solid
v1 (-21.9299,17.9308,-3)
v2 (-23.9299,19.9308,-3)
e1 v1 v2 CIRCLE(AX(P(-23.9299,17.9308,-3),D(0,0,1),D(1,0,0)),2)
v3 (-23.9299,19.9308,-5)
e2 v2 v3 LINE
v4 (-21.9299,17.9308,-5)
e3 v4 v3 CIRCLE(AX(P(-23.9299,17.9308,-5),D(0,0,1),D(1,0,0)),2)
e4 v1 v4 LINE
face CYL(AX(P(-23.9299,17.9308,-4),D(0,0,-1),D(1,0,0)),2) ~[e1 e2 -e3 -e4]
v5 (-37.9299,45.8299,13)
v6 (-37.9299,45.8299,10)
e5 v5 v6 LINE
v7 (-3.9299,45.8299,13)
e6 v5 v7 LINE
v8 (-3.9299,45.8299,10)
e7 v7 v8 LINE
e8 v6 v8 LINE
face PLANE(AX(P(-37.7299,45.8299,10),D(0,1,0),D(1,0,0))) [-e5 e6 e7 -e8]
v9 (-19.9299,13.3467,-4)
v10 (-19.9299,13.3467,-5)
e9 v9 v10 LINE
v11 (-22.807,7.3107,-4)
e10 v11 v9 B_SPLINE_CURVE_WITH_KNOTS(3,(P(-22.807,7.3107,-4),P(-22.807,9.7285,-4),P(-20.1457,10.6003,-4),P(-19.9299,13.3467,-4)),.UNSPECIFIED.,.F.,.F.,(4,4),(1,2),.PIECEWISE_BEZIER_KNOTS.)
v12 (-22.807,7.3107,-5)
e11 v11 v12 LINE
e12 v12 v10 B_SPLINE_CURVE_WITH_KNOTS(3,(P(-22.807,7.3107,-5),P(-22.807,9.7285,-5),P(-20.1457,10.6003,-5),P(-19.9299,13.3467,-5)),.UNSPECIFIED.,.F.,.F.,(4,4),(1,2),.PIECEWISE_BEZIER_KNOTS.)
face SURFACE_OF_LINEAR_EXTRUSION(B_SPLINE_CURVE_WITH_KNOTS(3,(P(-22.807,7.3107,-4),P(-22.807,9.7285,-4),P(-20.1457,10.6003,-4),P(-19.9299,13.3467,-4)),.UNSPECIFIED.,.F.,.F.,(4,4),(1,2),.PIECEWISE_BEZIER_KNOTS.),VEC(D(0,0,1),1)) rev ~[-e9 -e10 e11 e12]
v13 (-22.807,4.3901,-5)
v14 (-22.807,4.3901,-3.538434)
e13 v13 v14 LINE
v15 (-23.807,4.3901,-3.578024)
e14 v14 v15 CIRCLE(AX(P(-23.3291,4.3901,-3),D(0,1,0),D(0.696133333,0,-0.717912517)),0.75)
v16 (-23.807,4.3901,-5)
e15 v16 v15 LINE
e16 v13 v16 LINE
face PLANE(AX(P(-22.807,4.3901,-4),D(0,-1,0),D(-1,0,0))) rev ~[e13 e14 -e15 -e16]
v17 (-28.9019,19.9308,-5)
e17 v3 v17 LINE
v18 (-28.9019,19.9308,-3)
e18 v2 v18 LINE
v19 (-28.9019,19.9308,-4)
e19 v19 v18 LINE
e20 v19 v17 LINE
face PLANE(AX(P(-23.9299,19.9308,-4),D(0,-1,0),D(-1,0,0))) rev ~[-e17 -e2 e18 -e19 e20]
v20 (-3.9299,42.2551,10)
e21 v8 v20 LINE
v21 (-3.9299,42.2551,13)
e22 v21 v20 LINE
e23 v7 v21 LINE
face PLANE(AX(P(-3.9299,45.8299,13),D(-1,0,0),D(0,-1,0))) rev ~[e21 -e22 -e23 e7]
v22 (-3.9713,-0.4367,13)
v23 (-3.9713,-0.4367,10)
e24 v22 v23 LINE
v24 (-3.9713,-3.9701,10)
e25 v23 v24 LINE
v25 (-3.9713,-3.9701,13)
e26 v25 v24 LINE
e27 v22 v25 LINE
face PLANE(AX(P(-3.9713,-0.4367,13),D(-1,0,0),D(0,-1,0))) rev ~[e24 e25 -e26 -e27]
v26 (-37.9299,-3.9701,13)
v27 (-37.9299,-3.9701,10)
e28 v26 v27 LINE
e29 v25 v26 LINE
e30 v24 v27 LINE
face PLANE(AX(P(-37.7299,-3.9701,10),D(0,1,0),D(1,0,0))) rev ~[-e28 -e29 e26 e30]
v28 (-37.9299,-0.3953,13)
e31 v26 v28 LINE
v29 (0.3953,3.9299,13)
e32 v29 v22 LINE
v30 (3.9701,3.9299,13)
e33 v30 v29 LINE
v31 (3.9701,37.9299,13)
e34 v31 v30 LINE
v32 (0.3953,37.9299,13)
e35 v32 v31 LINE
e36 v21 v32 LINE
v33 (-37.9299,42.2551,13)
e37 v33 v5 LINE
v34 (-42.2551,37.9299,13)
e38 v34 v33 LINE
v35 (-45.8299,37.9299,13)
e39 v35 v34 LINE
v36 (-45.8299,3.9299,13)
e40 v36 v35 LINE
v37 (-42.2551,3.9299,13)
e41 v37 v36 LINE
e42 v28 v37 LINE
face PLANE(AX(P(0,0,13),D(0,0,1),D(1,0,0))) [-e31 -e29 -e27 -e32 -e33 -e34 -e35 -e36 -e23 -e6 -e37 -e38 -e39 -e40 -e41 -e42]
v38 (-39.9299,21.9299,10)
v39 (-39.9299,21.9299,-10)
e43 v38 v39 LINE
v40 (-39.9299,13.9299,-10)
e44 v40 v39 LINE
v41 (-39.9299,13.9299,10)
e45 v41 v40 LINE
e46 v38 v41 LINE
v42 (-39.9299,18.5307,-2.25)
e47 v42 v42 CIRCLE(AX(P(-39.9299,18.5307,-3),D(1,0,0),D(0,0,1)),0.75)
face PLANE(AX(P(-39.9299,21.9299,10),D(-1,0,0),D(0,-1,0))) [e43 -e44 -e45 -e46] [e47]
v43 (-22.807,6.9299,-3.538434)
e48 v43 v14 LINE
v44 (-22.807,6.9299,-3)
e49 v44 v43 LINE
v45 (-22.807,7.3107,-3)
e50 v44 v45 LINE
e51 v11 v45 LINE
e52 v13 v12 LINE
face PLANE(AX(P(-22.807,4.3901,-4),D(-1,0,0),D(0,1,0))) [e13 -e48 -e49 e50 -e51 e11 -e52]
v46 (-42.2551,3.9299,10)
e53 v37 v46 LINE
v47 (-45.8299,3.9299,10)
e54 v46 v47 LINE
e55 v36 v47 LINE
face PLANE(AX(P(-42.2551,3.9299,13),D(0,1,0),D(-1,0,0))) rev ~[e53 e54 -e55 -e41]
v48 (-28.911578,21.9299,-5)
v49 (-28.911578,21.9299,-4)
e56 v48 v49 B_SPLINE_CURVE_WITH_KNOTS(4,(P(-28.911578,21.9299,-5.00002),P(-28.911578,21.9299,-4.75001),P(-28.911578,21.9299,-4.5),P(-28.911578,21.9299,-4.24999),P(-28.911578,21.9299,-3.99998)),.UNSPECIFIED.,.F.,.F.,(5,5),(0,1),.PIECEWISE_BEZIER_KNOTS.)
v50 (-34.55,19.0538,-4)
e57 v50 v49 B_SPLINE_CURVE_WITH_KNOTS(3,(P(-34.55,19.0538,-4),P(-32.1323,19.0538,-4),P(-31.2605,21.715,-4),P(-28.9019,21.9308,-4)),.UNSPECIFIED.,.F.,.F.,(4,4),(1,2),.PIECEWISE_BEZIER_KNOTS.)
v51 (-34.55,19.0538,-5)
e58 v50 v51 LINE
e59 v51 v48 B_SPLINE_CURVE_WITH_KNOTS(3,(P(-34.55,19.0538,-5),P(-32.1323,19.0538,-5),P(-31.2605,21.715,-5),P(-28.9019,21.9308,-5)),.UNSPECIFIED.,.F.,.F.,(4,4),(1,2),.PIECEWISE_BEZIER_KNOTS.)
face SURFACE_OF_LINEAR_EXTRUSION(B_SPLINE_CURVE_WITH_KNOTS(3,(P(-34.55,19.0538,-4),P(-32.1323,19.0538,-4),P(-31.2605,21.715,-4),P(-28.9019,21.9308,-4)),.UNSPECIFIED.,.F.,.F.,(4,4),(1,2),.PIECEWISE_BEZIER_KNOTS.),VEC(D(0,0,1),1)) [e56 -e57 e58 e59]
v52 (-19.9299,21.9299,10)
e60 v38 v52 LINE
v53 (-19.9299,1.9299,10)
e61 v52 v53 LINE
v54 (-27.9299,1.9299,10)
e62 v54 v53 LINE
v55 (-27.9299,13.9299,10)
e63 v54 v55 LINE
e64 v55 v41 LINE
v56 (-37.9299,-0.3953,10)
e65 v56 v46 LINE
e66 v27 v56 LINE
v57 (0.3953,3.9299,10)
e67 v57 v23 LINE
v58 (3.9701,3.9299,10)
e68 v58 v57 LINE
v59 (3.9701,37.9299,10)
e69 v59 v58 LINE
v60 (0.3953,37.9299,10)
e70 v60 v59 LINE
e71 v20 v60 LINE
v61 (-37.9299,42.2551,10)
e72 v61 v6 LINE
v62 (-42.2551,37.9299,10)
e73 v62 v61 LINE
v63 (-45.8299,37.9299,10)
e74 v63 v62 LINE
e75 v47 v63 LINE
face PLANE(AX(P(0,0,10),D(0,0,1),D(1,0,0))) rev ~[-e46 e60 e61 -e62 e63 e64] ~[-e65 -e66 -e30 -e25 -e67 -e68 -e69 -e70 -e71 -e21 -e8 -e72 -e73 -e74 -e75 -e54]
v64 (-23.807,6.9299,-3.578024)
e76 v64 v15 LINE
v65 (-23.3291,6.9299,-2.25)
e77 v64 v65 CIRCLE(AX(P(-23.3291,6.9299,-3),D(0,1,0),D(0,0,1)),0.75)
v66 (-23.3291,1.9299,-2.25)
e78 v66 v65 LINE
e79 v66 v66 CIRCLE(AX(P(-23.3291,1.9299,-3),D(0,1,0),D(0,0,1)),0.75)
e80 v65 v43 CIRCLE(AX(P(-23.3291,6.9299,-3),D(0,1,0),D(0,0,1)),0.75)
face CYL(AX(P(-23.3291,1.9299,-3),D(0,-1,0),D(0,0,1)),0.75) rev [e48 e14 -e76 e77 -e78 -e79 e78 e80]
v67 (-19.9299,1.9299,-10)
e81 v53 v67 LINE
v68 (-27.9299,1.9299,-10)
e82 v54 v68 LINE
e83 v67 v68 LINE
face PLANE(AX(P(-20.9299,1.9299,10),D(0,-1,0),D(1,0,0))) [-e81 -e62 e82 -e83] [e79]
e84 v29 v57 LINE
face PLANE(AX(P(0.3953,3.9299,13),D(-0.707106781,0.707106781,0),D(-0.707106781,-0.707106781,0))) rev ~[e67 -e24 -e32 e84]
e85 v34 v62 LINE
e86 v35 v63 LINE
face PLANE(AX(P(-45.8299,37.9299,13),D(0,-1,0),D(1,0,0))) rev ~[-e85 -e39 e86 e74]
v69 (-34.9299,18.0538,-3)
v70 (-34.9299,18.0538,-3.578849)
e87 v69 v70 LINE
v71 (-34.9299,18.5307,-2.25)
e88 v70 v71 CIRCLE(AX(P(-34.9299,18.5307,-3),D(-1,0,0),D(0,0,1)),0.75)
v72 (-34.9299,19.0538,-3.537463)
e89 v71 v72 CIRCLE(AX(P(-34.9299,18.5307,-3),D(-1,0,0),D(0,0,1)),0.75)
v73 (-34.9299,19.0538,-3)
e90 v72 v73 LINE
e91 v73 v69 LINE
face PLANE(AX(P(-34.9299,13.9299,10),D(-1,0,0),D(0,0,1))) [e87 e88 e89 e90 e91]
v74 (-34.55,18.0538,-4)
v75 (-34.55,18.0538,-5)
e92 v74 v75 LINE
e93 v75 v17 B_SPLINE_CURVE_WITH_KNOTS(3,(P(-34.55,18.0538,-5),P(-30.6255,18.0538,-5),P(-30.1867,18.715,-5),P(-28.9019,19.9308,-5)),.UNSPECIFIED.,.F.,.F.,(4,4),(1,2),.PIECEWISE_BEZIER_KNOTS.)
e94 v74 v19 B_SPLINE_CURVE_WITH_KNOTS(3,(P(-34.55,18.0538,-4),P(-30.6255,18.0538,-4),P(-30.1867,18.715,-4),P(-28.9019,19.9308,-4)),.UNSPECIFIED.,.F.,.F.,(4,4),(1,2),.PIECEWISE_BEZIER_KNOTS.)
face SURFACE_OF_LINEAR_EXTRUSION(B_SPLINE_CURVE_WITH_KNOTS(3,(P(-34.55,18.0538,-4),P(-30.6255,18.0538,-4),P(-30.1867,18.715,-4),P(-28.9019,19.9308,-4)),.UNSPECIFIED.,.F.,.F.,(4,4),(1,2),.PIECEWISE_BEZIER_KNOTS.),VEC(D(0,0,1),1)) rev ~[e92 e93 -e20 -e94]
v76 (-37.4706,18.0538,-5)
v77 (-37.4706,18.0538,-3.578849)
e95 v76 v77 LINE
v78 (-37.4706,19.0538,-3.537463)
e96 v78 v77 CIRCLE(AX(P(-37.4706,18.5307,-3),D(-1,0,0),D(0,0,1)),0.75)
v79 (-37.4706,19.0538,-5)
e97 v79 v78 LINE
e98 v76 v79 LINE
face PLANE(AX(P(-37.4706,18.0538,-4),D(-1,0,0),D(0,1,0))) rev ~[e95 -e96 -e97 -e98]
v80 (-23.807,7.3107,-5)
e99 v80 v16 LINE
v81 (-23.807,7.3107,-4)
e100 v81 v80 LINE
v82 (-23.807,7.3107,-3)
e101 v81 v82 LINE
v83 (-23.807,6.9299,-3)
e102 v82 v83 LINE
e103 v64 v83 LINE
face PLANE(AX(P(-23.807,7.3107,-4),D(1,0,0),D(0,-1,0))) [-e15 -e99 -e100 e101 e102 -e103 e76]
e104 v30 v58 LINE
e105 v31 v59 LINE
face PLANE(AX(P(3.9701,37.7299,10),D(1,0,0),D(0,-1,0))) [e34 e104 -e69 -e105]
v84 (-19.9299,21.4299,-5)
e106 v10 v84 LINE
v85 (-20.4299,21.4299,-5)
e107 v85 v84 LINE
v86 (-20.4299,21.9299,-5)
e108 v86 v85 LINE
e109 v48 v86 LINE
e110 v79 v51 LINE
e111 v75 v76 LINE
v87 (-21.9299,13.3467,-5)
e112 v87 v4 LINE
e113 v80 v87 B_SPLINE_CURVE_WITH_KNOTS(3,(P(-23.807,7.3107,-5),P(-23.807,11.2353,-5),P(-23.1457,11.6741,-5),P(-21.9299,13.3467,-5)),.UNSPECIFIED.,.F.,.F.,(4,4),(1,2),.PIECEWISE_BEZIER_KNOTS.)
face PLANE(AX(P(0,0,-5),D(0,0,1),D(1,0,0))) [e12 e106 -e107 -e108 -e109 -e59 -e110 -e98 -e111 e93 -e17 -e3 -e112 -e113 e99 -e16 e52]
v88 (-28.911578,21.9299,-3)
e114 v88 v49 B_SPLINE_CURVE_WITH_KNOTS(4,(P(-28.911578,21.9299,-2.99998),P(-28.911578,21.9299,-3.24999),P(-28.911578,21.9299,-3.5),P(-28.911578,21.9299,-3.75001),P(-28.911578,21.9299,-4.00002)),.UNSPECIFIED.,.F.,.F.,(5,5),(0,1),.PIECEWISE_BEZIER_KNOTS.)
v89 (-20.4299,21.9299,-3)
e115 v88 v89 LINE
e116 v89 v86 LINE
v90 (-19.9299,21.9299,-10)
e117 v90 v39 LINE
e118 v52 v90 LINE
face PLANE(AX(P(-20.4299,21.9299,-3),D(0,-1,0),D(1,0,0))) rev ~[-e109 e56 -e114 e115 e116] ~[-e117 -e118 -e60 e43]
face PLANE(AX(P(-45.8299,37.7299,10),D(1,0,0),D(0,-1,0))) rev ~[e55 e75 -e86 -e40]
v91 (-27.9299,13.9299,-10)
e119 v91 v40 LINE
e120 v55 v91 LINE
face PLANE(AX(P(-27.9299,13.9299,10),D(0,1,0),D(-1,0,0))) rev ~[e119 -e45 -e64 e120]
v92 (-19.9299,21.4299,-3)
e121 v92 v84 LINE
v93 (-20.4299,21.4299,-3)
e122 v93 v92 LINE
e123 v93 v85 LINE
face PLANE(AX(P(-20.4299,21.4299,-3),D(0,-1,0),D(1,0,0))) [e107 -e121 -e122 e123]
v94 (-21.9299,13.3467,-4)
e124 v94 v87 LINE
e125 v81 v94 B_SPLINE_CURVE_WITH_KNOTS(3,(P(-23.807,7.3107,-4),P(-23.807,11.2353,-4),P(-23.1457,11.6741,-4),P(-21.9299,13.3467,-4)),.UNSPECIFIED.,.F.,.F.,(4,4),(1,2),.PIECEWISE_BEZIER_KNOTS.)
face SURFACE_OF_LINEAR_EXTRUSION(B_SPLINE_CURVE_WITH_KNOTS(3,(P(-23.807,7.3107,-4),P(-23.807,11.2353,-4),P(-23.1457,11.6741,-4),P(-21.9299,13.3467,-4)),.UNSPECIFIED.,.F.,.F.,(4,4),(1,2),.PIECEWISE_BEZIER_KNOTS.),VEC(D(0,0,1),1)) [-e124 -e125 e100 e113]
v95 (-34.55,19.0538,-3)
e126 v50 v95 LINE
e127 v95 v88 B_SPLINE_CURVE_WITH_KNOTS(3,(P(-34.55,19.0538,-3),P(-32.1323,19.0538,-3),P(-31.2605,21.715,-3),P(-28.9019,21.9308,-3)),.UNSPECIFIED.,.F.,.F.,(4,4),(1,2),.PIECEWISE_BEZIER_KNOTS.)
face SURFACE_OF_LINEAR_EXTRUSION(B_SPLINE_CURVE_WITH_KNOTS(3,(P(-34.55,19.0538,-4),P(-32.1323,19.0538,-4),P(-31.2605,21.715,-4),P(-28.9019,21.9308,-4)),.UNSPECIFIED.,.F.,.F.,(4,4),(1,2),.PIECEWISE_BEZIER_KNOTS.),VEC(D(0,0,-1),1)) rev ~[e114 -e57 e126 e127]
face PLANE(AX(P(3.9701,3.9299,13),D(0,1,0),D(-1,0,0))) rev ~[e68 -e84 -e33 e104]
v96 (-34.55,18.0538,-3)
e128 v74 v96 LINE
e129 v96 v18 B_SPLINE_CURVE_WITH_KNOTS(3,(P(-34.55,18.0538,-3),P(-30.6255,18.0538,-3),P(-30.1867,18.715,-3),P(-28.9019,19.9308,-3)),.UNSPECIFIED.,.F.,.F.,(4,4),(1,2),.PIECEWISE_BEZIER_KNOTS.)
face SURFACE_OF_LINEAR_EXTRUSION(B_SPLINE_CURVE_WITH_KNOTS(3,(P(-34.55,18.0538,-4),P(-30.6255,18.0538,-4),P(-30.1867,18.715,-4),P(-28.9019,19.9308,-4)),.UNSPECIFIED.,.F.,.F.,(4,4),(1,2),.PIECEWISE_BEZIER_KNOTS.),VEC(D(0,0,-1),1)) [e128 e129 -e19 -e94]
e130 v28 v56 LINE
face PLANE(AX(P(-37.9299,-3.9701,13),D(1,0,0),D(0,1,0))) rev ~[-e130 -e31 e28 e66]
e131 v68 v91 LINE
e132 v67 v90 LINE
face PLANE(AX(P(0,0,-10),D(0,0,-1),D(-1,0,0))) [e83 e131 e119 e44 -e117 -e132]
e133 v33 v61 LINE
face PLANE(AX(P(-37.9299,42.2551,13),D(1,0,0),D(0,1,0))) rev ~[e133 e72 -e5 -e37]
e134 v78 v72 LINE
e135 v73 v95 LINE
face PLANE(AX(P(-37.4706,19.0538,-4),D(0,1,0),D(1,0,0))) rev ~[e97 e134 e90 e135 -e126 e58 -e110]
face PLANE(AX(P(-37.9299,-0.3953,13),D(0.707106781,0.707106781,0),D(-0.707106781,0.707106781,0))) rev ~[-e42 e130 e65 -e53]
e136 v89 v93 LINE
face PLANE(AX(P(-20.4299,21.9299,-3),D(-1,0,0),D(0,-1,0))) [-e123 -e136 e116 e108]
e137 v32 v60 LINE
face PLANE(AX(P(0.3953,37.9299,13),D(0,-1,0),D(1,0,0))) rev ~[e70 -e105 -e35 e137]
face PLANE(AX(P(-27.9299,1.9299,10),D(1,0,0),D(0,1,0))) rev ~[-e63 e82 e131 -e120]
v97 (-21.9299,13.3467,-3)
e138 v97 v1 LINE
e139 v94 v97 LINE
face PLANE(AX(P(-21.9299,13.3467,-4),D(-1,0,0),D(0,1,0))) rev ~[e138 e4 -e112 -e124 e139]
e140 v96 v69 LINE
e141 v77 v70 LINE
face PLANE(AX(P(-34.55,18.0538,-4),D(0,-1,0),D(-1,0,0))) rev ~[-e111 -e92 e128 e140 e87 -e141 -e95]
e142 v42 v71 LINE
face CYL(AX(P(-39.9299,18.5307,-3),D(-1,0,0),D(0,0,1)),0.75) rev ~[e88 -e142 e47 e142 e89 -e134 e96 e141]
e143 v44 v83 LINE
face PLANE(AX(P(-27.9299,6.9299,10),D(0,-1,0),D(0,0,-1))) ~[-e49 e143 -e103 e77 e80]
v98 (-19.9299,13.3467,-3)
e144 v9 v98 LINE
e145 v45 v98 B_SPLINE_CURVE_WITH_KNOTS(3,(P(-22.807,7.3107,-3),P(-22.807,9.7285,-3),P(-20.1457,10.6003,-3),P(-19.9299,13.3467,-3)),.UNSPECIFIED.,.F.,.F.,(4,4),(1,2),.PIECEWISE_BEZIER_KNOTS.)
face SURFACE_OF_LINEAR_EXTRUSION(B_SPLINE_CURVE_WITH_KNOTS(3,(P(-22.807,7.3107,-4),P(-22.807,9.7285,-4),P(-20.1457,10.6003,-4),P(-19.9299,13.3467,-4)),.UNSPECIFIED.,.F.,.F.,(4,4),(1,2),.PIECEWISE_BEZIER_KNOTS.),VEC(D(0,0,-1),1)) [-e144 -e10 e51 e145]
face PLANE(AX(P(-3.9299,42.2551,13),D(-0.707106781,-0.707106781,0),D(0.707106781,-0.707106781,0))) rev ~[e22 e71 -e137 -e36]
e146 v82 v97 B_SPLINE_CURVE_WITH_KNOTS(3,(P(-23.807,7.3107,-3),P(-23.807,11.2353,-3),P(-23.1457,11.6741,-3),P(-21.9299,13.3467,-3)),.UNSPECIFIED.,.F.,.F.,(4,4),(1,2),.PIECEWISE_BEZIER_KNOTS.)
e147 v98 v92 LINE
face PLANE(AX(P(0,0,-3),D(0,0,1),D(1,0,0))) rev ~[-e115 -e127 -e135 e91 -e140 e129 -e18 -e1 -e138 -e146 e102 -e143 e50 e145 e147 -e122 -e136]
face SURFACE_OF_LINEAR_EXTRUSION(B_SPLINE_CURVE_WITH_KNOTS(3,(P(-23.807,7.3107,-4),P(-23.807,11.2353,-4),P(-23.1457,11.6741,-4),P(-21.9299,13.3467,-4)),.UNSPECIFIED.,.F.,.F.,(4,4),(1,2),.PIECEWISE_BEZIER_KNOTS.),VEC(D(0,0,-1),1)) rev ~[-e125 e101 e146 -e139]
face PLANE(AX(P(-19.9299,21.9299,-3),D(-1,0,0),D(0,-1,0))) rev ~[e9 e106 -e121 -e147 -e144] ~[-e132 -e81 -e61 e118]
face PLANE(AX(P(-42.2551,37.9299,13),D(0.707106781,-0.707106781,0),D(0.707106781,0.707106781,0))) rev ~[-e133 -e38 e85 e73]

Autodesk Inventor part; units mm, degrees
ref_plane "YZ Plane" through (0, 0, 0) normal (1, 0, 0) x (0, 1, 0)
ref_plane "XZ Plane" through (0, 0, 0) normal (0, 1, 0) x (-1, 0, 0)
ref_plane "Work Plane1" through (0, 0, 10) normal (0, 0, 1) x (1, 0, 0)
sketch "Sketch1" plane through (0, 0, 10) normal (0, 0, 1) x (1, 0, 0)
  line L0 (-4.0299, -0.3538) -> (-2.2322, 1.4439) construction
  arc A0 (-1.4439, 2.2322) -> (-2.2322, 1.4439) centre (-0.9299, 0.9299) ccw construction
  line L1 (-1.4439, 2.2322) -> (0.3538, 4.0299) construction
  line L2 (-37.8299, 42.8299) -> (-37.8299, 37.8299) construction
  line L3 (-37.8299, 37.8299) -> (-42.9208, 37.8299) construction
  line L4 (-37.8299, 42.2137) -> (-37.8299, 45.8299) construction
  line L5 (-37.8299, 45.8299) -> (-4.0299, 45.8299) construction
  line L6 (-4.0299, 45.8299) -> (-4.0299, 42.2137) construction
  line L7 (-4.0299, 4.0299) -> (0.3538, 4.0299) projected
  circle A1 centre (-20.9299, 20.9299) radius 17.5 projected
  line L8 (-20.9299, 58.9723) -> (17.1124, 20.9299) construction
  line L9 (17.1124, 20.9299) -> (-20.9299, -17.1124) construction
  line L10 (-20.9299, -17.1124) -> (-58.9723, 20.9299) construction
  line L11 (-58.9723, 20.9299) -> (-20.9299, 58.9723) construction
  line L12 (-20.9299, 58.9723) -> (-20.9299, -17.1124) construction
  line L13 (17.1124, 20.9299) -> (-58.9723, 20.9299) construction
  line L14 (-20.9299, 58.9723) -> (32.8701, 58.9723) construction
  line L15 (-43.4299, 43.4299) -> (1.5701, 43.4299) construction
  line L16 (1.5701, 43.4299) -> (1.5701, -1.5701) construction
  line L17 (1.5701, -1.5701) -> (-43.4299, -1.5701) construction
  line L18 (-43.4299, -1.5701) -> (-43.4299, 43.4299) construction
  line L19 (-43.4299, 43.4299) -> (1.5701, -1.5701) construction
  line L20 (1.5701, 43.4299) -> (-43.4299, -1.5701) construction
  line L21 (-43.4299, 5.3876) -> (-43.4299, 36.4723)
  line L22 (-43.4299, 36.4723) -> (-36.4723, 43.4299)
  line L23 (-36.4723, 43.4299) -> (-5.3876, 43.4299)
  line L24 (-5.3876, 43.4299) -> (1.5701, 36.4723)
  line L25 (1.5701, 36.4723) -> (1.5701, 5.3876)
  line L26 (1.5701, 5.3876) -> (-5.3876, -1.5701)
  line L27 (-5.3876, -1.5701) -> (-36.4723, -1.5701)
  line L28 (-36.4723, -1.5701) -> (-43.4299, 5.3876)
  line L29 (-4.0299, 42.2137) -> (-37.8299, 42.2137) projected
  line L30 (-4.0299, -0.3538) -> (-4.0299, 4.0299) projected
  circle A2 centre (-20.9299, 20.9299) radius 1.5
  line L31 (-10.9299, 10.9299) -> (-30.9299, 10.9299) construction
  line L32 (-30.9299, 10.9299) -> (-30.9299, 30.9299) construction
  line L33 (-30.9299, 30.9299) -> (-10.9299, 30.9299) construction
  line L34 (-10.9299, 30.9299) -> (-10.9299, 10.9299) construction
  line L35 (-10.9299, 10.9299) -> (-30.9299, 30.9299) construction
  line L36 (-30.9299, 10.9299) -> (-10.9299, 30.9299) construction
  circle A3 centre (-30.9299, 30.9299) radius 1.4
  circle A4 centre (-30.9299, 10.9299) radius 1.4
  circle A5 centre (-10.9299, 10.9299) radius 1.4
  line L37 (-45.8299, 37.8299) -> (-42.0723, 37.8299) construction
  line L38 (-42.1723, 37.7299) -> (-45.8299, 37.7299)
  line L39 (-45.8299, 37.7299) -> (-45.8299, 4.1299)
  line L40 (-45.8299, 4.1299) -> (-42.1723, 4.1299)
  line L41 (-42.1723, 4.1299) -> (-42.1723, 37.7299)
  line L42 (-45.8299, 4.0299) -> (-42.0723, 4.0299) construction
  line L43 (-45.8299, 37.8299) -> (-42.0723, 37.8299) projected
  line L44 (-37.7299, 45.8299) -> (-4.1299, 45.8299)
  line L45 (-4.1299, 45.8299) -> (-4.1299, 42.1723)
  line L46 (-4.1299, 42.1723) -> (-37.7299, 42.1723)
  line L47 (-37.7299, 42.1723) -> (-37.7299, 45.8299)
  line L48 (0.4701, 37.8299) -> (0.4701, 4.0299) construction
  line L49 (0.4701, 4.0299) -> (3.9701, 4.0299) construction
  line L50 (3.9701, 37.8299) -> (3.9701, 4.0299) construction
  line L51 (0.4701, 37.8299) -> (3.9701, 37.8299) construction
  line L52 (-45.8299, -3.9701) -> (-4.0299, -3.9701) construction
  line L53 (0.3124, 37.7299) -> (3.9701, 37.7299)
  line L54 (3.9701, 37.7299) -> (3.9701, 4.1299)
  line L55 (3.9701, 4.1299) -> (0.3124, 4.1299)
  line L56 (0.3124, 4.1299) -> (0.3124, 37.7299)
  line L57 (-4.1713, -0.3538) -> (-37.7299, -0.3538)
  line L58 (-37.7299, -0.3538) -> (-37.7299, -3.9701)
  line L59 (-37.7299, -3.9701) -> (-4.1713, -3.9701)
  line L60 (-4.1713, -3.9701) -> (-4.1713, -0.3538)
  point P0 (-37.8299, 4.0299)
  dimension "d18" = 53.8
  dimension "d19" = 45
  dimension "d20" = 53.8
  dimension "d21" = 45
  dimension "d22" = 45
  dimension "d30" = 20
  dimension "d31" = 20
  dimension "d32" = 2.8
  dimension "d33" = 2.8
  dimension "d34" = 2.8
  dimension "d35" = 3
  dimension "d36" = 0.1
  dimension "d37" = 0.1
  dimension "d38" = 0.1
  dimension "d39" = 0.1
extrude "Extrusion1" add sketch "Sketch1" along normal blind 3 contours L30 L26 L57 L28 L41 L22 L46 L24 L56 L7 | L7 L26 L30 | L56 L24 L25 L26 | L26 L25 L24 L53 L54 L55 | L60 L59 L58 L57 L28 L27 L26 | L26 L27 L28 L57 | L46 L22 L29 L24 | L24 L29 L45 | L40 L39 L38 L22 L21 L28 | L28 L21 L22 L41 | L29 L22 L23 L24 | L24 L23 L22 L29 L47 L44 L45 | L47 L29 L22 | A1 | A2 | A3 | A4 | A5
sketch "Skizze4" plane through (0, 0, 13) normal (0, 0, 1) x (1, 0, 0)
  line L0 (-37.7299, 42.1723) -> (-42.1723, 37.7299) projected
  line L1 (-42.1723, 37.7299) -> (-45.8299, 37.7299) projected
  line L2 (-45.8299, 37.7299) -> (-45.8299, 4.1299) construction
  line L3 (-45.8299, 4.1299) -> (-42.1723, 4.1299) projected
  line L4 (-42.1723, 4.1299) -> (-37.6885, -0.3538) projected
  line L5 (-37.6885, -0.3538) -> (-37.7299, -0.3538) projected
  line L6 (-37.7299, -0.3538) -> (-37.7299, -3.9701) projected
  line L7 (-37.7299, -3.9701) -> (-4.1713, -3.9701) construction
  line L8 (-4.1713, -3.9701) -> (-4.1713, -0.3538) projected
  line L9 (-4.1713, -0.3538) -> (0.3124, 4.1299) projected
  line L10 (0.3124, 4.1299) -> (3.9701, 4.1299) projected
  line L11 (3.9701, 4.1299) -> (3.9701, 37.7299) construction
  line L12 (3.9701, 37.7299) -> (0.3124, 37.7299) projected
  line L13 (0.3124, 37.7299) -> (-4.1299, 42.1723) projected
  line L14 (-4.1299, 42.1723) -> (-4.1299, 45.8299) projected
  line L15 (-4.1299, 45.8299) -> (-37.7299, 45.8299) construction
  line L16 (-37.7299, 45.8299) -> (-37.7299, 42.1723) projected
  line L17 (-37.9299, 46.0299) -> (-3.9299, 46.0299) construction
  line L18 (-3.9299, 46.0299) -> (-3.9299, 42.2551)
  line L19 (-3.9299, 42.2551) -> (0.3953, 37.9299)
  line L20 (0.3953, 37.9299) -> (4.1701, 37.9299)
  line L21 (4.1701, 37.9299) -> (4.1701, 3.9299) construction
  line L22 (4.1701, 3.9299) -> (0.3953, 3.9299)
  line L23 (0.3953, 3.9299) -> (-3.9713, -0.4367)
  line L24 (-3.9713, -0.4367) -> (-3.9713, -4.1701)
  line L25 (-3.9713, -4.1701) -> (-37.9299, -4.1701) construction
  line L26 (-37.9299, -4.1701) -> (-37.9299, -0.3953)
  line L27 (-37.9299, -0.3953) -> (-42.2551, 3.9299)
  line L28 (-42.2551, 3.9299) -> (-46.0299, 3.9299)
  line L29 (-46.0299, 3.9299) -> (-46.0299, 37.9299) construction
  line L30 (-46.0299, 37.9299) -> (-42.2551, 37.9299)
  line L31 (-42.2551, 37.9299) -> (-37.9299, 42.2551)
  line L32 (-37.9299, 42.2551) -> (-37.9299, 46.0299)
  line L33 (-45.8299, 37.7299) -> (-45.8299, 37.9299)
  line L34 (-4.1299, 45.8299) -> (-37.7299, 45.8299) projected
  line L35 (-37.7299, 45.8299) -> (-37.9299, 45.8299)
  line L36 (-4.1299, 45.8299) -> (-3.9299, 45.8299)
  line L37 (3.9701, 37.7299) -> (3.9701, 37.9299)
  line L38 (3.9701, 4.1299) -> (3.9701, 37.7299) projected
  line L39 (3.9701, 4.1299) -> (3.9701, 3.9299)
  line L40 (-4.1713, -3.9701) -> (-3.9713, -3.9701)
  line L41 (-37.7299, -3.9701) -> (-37.9299, -3.9701)
  line L42 (-45.8299, 4.1299) -> (-45.8299, 3.9299)
  point P0 (0, 0)
  dimension "d40" = 0.2
extrude "IM_offset" add sketch "Skizze4" against normal up to surface (3 mm away)
ref_plane "Arbeitsebene5" through (-20.9299, 3.9299, 10) normal (1, 0, 0) x (0, 0, -1)
ref_plane "Arbeitsebene6" through (-37.9299, 20.9299, 10) normal (0, 1, 0) x (1, 0, 0)
sketch "Skizze36" plane through (0, 0, 10) normal (0, 0, -1) x (-1, 0, 0)
  line L0 (-13.9301, 20.9299) -> (55.7899, 20.9299) projected
  line L1 (20.9299, -13.9301) -> (20.9299, 55.7899) projected
  line L2 (19.9299, 21.9299) -> (39.9299, 21.9299)
  line L3 (39.9299, 21.9299) -> (39.9299, 1.9299)
  line L4 (39.9299, 1.9299) -> (19.9299, 1.9299)
  line L5 (19.9299, 1.9299) -> (19.9299, 21.9299)
  line L6 (39.9299, 1.9299) -> (27.9299, 1.9299)
  line L7 (27.9299, 1.9299) -> (27.9299, 13.9299)
  line L8 (27.9299, 13.9299) -> (39.9299, 13.9299)
  line L9 (39.9299, 13.9299) -> (39.9299, 1.9299)
  point P0 (0, 0)
  point P1 (39.9299, 13.9299)
  point P2 (39.9299, 20.9299)
  point P3 (20.9299, 20.9299)
  point P4 (20.9299, 1.9299)
  point P5 (27.9299, 1.9299)
  dimension "d197" = 20
  dimension "d198" = 20
  dimension "d199" = 1
  dimension "d200" = 1
  dimension "d201" = 12
  dimension "d202" = 12
extrude "Extrusion32" add sketch "Skizze36" along normal blind 20 contours L5 L2 L1 L0 | L0 L1 L4 L5 | L1 L2 L3 L0 | L0 L3 L8 L7 L4 L1
ref_plane "Arbeitsebene10" through (0, 0, -4) normal (0, 0, 1) x (1, 0, 0)
sketch "Skizze37" plane through (0, 0, -4) normal (0, 0, 1) x (1, 0, 0)
  line L0 (-19.9299, 1.3901) -> (-19.9299, 21.9308)
  line L1 (-19.9299, 21.9308) -> (-19.9299, 13.3467)
  line L2 (-19.9299, 13.3467) -> (-21.9299, 13.3467)
  line L3 (-21.9299, 13.3467) -> (-21.9299, 17.9308)
  line L4 (-21.9299, 21.9308) -> (-19.9299, 21.9308)
  line L5 (-40.9299, 1.3901) -> (-19.9299, 1.3901)
  line L6 (-22.807, 4.3901) -> (-22.807, 7.3107)
  line L7 (-23.807, 7.3107) -> (-23.807, 4.3901)
  line L8 (-22.807, 7.3107) -> (-22.807, 9.7285) construction
  line L9 (-22.807, 9.7285) -> (-20.1457, 10.6003) construction
  line L10 (-20.1457, 10.6003) -> (-19.9299, 13.3467) construction
  spline S0 degree 3 poles (-22.807, 7.3107) (-22.807, 9.7285) (-20.1457, 10.6003) (-19.9299, 13.3467) knots 1 1 1 1 2 2 2 2
  spline S1 degree 3 poles (-23.807, 7.3107) (-23.807, 11.2353) (-23.1457, 11.6741) (-21.9299, 13.3467) knots 1 1 1 1 2 2 2 2
  line L11 (-23.807, 7.3107) -> (-23.807, 11.2353) construction
  line L12 (-23.807, 11.2353) -> (-23.1457, 11.6741) construction
  line L13 (-23.1457, 11.6741) -> (-21.9299, 13.3467) construction
  line L14 (-21.9299, 21.9308) -> (-21.9299, 19.9308)
  line L15 (-23.9299, 19.9308) -> (-28.9019, 19.9308)
  line L16 (-28.9019, 19.9308) -> (-28.9019, 21.9308)
  line L17 (-28.9019, 21.9308) -> (-21.9299, 21.9308)
  line L18 (-19.9299, 21.9308) -> (-29.9299, 11.9308) construction
  line L19 (-28.9019, 21.9308) -> (-28.9019, 19.9308)
  line L20 (-31.2605, 21.715) -> (-28.9019, 21.9308) construction
  spline S2 degree 3 poles (-34.55, 19.0538) (-32.1323, 19.0538) (-31.2605, 21.715) (-28.9019, 21.9308) knots 1 1 1 1 2 2 2 2
  line L21 (-34.55, 19.0538) -> (-32.1323, 19.0538) construction
  line L22 (-32.1323, 19.0538) -> (-31.2605, 21.715) construction
  line L23 (-30.1867, 18.715) -> (-28.9019, 19.9308) construction
  spline S3 degree 3 poles (-34.55, 18.0538) (-30.6255, 18.0538) (-30.1867, 18.715) (-28.9019, 19.9308) knots 1 1 1 1 2 2 2 2
  line L24 (-34.55, 18.0538) -> (-30.6255, 18.0538) construction
  line L25 (-30.6255, 18.0538) -> (-30.1867, 18.715) construction
  line L26 (-37.4706, 19.0538) -> (-34.55, 19.0538)
  line L27 (-34.55, 18.0538) -> (-37.4706, 18.0538)
  line L28 (-40.4706, 18.0538) -> (-40.4706, 19.0538)
  line L29 (-22.807, 4.3901) -> (-23.807, 4.3901)
  line L30 (-37.4706, 18.0538) -> (-37.4706, 19.0538)
  arc A0 (-21.9299, 17.9308) -> (-23.9299, 19.9308) centre (-23.9299, 17.9308) ccw
  line L31 (-19.9299, 1.9299) -> (-19.9299, 21.9299) projected
  point P0 (0, 0)
  point P1 (-22.807, 1.3901)
  point P2 (-40.4706, 21.9308)
  point P3 (-19.9299, 13.3467)
  dimension "d206" = 2
  dimension "d207" = 2
  dimension "d208" = 1
  dimension "d209" = 3
  dimension "d210" = 3
  dimension "d211" = 2
  dimension "d214" = 0
extrude "Extrusion33" cut sketch "Skizze37" along normal mid plane 2
ref_plane "Arbeitsebene11" through (-19.9299, 21.9299, 10) normal (0.7071, -0.7071, 0) x (0, 0, -1)
sketch "Skizze38" plane through (-39.9299, 13.9299, 10) normal (-1, 0, 0) x (0, 0, 1)
  line L0 (-13, 8) -> (-15, 8) projected
  line L1 (-15, 4.1239) -> (-13, 4.1239) projected
  line L2 (-15, 5.1239) -> (-13, 5.1239) projected
  circle A0 centre (-13, 4.6008) radius 0.75
  point P0 (-10, -13.9299)
  dimension "d215" = 1.5
extrude "Extrusion34" cut sketch "Skizze38" against normal blind 5
mirror "Spiegeln3" about plane through (-19.9299, 21.9299, 10) normal (0.7071, -0.7071, 0) of "Extrusion34"
sketch "Skizze39" plane through (0, 0, -3) normal (0, 0, -1) x (-1, 0, 0)
  line L0 (39.9299, 13.9299) -> (39.9299, 21.9299) projected
  line L1 (39.9299, 21.9299) -> (19.9299, 21.9299) projected
  line L2 (19.9299, 21.9299) -> (19.9299, 1.9299) projected
  line L3 (19.9299, 1.9299) -> (27.9299, 1.9299) projected
  line L4 (27.9299, 1.9299) -> (27.9299, 13.9299) projected
  line L5 (27.9299, 13.9299) -> (39.9299, 13.9299) projected
  line L6 (19.9299, 21.9299) -> (20.4299, 21.9299)
  line L7 (20.4299, 21.9299) -> (20.4299, 21.4299)
  line L8 (20.4299, 21.4299) -> (19.9299, 21.4299)
  line L9 (19.9299, 21.4299) -> (19.9299, 21.9299)
  point P0 (0, 0)
  dimension "d218" = 0.5
  dimension "d219" = 0.5
extrude "Extrusion35" add sketch "Skizze39" along normal up to surface (2 mm away) contours L7 L8 L2 L1
properties part number "20_Cube_Insert_Lightsheet_Flowcube_rectangular_v3"
